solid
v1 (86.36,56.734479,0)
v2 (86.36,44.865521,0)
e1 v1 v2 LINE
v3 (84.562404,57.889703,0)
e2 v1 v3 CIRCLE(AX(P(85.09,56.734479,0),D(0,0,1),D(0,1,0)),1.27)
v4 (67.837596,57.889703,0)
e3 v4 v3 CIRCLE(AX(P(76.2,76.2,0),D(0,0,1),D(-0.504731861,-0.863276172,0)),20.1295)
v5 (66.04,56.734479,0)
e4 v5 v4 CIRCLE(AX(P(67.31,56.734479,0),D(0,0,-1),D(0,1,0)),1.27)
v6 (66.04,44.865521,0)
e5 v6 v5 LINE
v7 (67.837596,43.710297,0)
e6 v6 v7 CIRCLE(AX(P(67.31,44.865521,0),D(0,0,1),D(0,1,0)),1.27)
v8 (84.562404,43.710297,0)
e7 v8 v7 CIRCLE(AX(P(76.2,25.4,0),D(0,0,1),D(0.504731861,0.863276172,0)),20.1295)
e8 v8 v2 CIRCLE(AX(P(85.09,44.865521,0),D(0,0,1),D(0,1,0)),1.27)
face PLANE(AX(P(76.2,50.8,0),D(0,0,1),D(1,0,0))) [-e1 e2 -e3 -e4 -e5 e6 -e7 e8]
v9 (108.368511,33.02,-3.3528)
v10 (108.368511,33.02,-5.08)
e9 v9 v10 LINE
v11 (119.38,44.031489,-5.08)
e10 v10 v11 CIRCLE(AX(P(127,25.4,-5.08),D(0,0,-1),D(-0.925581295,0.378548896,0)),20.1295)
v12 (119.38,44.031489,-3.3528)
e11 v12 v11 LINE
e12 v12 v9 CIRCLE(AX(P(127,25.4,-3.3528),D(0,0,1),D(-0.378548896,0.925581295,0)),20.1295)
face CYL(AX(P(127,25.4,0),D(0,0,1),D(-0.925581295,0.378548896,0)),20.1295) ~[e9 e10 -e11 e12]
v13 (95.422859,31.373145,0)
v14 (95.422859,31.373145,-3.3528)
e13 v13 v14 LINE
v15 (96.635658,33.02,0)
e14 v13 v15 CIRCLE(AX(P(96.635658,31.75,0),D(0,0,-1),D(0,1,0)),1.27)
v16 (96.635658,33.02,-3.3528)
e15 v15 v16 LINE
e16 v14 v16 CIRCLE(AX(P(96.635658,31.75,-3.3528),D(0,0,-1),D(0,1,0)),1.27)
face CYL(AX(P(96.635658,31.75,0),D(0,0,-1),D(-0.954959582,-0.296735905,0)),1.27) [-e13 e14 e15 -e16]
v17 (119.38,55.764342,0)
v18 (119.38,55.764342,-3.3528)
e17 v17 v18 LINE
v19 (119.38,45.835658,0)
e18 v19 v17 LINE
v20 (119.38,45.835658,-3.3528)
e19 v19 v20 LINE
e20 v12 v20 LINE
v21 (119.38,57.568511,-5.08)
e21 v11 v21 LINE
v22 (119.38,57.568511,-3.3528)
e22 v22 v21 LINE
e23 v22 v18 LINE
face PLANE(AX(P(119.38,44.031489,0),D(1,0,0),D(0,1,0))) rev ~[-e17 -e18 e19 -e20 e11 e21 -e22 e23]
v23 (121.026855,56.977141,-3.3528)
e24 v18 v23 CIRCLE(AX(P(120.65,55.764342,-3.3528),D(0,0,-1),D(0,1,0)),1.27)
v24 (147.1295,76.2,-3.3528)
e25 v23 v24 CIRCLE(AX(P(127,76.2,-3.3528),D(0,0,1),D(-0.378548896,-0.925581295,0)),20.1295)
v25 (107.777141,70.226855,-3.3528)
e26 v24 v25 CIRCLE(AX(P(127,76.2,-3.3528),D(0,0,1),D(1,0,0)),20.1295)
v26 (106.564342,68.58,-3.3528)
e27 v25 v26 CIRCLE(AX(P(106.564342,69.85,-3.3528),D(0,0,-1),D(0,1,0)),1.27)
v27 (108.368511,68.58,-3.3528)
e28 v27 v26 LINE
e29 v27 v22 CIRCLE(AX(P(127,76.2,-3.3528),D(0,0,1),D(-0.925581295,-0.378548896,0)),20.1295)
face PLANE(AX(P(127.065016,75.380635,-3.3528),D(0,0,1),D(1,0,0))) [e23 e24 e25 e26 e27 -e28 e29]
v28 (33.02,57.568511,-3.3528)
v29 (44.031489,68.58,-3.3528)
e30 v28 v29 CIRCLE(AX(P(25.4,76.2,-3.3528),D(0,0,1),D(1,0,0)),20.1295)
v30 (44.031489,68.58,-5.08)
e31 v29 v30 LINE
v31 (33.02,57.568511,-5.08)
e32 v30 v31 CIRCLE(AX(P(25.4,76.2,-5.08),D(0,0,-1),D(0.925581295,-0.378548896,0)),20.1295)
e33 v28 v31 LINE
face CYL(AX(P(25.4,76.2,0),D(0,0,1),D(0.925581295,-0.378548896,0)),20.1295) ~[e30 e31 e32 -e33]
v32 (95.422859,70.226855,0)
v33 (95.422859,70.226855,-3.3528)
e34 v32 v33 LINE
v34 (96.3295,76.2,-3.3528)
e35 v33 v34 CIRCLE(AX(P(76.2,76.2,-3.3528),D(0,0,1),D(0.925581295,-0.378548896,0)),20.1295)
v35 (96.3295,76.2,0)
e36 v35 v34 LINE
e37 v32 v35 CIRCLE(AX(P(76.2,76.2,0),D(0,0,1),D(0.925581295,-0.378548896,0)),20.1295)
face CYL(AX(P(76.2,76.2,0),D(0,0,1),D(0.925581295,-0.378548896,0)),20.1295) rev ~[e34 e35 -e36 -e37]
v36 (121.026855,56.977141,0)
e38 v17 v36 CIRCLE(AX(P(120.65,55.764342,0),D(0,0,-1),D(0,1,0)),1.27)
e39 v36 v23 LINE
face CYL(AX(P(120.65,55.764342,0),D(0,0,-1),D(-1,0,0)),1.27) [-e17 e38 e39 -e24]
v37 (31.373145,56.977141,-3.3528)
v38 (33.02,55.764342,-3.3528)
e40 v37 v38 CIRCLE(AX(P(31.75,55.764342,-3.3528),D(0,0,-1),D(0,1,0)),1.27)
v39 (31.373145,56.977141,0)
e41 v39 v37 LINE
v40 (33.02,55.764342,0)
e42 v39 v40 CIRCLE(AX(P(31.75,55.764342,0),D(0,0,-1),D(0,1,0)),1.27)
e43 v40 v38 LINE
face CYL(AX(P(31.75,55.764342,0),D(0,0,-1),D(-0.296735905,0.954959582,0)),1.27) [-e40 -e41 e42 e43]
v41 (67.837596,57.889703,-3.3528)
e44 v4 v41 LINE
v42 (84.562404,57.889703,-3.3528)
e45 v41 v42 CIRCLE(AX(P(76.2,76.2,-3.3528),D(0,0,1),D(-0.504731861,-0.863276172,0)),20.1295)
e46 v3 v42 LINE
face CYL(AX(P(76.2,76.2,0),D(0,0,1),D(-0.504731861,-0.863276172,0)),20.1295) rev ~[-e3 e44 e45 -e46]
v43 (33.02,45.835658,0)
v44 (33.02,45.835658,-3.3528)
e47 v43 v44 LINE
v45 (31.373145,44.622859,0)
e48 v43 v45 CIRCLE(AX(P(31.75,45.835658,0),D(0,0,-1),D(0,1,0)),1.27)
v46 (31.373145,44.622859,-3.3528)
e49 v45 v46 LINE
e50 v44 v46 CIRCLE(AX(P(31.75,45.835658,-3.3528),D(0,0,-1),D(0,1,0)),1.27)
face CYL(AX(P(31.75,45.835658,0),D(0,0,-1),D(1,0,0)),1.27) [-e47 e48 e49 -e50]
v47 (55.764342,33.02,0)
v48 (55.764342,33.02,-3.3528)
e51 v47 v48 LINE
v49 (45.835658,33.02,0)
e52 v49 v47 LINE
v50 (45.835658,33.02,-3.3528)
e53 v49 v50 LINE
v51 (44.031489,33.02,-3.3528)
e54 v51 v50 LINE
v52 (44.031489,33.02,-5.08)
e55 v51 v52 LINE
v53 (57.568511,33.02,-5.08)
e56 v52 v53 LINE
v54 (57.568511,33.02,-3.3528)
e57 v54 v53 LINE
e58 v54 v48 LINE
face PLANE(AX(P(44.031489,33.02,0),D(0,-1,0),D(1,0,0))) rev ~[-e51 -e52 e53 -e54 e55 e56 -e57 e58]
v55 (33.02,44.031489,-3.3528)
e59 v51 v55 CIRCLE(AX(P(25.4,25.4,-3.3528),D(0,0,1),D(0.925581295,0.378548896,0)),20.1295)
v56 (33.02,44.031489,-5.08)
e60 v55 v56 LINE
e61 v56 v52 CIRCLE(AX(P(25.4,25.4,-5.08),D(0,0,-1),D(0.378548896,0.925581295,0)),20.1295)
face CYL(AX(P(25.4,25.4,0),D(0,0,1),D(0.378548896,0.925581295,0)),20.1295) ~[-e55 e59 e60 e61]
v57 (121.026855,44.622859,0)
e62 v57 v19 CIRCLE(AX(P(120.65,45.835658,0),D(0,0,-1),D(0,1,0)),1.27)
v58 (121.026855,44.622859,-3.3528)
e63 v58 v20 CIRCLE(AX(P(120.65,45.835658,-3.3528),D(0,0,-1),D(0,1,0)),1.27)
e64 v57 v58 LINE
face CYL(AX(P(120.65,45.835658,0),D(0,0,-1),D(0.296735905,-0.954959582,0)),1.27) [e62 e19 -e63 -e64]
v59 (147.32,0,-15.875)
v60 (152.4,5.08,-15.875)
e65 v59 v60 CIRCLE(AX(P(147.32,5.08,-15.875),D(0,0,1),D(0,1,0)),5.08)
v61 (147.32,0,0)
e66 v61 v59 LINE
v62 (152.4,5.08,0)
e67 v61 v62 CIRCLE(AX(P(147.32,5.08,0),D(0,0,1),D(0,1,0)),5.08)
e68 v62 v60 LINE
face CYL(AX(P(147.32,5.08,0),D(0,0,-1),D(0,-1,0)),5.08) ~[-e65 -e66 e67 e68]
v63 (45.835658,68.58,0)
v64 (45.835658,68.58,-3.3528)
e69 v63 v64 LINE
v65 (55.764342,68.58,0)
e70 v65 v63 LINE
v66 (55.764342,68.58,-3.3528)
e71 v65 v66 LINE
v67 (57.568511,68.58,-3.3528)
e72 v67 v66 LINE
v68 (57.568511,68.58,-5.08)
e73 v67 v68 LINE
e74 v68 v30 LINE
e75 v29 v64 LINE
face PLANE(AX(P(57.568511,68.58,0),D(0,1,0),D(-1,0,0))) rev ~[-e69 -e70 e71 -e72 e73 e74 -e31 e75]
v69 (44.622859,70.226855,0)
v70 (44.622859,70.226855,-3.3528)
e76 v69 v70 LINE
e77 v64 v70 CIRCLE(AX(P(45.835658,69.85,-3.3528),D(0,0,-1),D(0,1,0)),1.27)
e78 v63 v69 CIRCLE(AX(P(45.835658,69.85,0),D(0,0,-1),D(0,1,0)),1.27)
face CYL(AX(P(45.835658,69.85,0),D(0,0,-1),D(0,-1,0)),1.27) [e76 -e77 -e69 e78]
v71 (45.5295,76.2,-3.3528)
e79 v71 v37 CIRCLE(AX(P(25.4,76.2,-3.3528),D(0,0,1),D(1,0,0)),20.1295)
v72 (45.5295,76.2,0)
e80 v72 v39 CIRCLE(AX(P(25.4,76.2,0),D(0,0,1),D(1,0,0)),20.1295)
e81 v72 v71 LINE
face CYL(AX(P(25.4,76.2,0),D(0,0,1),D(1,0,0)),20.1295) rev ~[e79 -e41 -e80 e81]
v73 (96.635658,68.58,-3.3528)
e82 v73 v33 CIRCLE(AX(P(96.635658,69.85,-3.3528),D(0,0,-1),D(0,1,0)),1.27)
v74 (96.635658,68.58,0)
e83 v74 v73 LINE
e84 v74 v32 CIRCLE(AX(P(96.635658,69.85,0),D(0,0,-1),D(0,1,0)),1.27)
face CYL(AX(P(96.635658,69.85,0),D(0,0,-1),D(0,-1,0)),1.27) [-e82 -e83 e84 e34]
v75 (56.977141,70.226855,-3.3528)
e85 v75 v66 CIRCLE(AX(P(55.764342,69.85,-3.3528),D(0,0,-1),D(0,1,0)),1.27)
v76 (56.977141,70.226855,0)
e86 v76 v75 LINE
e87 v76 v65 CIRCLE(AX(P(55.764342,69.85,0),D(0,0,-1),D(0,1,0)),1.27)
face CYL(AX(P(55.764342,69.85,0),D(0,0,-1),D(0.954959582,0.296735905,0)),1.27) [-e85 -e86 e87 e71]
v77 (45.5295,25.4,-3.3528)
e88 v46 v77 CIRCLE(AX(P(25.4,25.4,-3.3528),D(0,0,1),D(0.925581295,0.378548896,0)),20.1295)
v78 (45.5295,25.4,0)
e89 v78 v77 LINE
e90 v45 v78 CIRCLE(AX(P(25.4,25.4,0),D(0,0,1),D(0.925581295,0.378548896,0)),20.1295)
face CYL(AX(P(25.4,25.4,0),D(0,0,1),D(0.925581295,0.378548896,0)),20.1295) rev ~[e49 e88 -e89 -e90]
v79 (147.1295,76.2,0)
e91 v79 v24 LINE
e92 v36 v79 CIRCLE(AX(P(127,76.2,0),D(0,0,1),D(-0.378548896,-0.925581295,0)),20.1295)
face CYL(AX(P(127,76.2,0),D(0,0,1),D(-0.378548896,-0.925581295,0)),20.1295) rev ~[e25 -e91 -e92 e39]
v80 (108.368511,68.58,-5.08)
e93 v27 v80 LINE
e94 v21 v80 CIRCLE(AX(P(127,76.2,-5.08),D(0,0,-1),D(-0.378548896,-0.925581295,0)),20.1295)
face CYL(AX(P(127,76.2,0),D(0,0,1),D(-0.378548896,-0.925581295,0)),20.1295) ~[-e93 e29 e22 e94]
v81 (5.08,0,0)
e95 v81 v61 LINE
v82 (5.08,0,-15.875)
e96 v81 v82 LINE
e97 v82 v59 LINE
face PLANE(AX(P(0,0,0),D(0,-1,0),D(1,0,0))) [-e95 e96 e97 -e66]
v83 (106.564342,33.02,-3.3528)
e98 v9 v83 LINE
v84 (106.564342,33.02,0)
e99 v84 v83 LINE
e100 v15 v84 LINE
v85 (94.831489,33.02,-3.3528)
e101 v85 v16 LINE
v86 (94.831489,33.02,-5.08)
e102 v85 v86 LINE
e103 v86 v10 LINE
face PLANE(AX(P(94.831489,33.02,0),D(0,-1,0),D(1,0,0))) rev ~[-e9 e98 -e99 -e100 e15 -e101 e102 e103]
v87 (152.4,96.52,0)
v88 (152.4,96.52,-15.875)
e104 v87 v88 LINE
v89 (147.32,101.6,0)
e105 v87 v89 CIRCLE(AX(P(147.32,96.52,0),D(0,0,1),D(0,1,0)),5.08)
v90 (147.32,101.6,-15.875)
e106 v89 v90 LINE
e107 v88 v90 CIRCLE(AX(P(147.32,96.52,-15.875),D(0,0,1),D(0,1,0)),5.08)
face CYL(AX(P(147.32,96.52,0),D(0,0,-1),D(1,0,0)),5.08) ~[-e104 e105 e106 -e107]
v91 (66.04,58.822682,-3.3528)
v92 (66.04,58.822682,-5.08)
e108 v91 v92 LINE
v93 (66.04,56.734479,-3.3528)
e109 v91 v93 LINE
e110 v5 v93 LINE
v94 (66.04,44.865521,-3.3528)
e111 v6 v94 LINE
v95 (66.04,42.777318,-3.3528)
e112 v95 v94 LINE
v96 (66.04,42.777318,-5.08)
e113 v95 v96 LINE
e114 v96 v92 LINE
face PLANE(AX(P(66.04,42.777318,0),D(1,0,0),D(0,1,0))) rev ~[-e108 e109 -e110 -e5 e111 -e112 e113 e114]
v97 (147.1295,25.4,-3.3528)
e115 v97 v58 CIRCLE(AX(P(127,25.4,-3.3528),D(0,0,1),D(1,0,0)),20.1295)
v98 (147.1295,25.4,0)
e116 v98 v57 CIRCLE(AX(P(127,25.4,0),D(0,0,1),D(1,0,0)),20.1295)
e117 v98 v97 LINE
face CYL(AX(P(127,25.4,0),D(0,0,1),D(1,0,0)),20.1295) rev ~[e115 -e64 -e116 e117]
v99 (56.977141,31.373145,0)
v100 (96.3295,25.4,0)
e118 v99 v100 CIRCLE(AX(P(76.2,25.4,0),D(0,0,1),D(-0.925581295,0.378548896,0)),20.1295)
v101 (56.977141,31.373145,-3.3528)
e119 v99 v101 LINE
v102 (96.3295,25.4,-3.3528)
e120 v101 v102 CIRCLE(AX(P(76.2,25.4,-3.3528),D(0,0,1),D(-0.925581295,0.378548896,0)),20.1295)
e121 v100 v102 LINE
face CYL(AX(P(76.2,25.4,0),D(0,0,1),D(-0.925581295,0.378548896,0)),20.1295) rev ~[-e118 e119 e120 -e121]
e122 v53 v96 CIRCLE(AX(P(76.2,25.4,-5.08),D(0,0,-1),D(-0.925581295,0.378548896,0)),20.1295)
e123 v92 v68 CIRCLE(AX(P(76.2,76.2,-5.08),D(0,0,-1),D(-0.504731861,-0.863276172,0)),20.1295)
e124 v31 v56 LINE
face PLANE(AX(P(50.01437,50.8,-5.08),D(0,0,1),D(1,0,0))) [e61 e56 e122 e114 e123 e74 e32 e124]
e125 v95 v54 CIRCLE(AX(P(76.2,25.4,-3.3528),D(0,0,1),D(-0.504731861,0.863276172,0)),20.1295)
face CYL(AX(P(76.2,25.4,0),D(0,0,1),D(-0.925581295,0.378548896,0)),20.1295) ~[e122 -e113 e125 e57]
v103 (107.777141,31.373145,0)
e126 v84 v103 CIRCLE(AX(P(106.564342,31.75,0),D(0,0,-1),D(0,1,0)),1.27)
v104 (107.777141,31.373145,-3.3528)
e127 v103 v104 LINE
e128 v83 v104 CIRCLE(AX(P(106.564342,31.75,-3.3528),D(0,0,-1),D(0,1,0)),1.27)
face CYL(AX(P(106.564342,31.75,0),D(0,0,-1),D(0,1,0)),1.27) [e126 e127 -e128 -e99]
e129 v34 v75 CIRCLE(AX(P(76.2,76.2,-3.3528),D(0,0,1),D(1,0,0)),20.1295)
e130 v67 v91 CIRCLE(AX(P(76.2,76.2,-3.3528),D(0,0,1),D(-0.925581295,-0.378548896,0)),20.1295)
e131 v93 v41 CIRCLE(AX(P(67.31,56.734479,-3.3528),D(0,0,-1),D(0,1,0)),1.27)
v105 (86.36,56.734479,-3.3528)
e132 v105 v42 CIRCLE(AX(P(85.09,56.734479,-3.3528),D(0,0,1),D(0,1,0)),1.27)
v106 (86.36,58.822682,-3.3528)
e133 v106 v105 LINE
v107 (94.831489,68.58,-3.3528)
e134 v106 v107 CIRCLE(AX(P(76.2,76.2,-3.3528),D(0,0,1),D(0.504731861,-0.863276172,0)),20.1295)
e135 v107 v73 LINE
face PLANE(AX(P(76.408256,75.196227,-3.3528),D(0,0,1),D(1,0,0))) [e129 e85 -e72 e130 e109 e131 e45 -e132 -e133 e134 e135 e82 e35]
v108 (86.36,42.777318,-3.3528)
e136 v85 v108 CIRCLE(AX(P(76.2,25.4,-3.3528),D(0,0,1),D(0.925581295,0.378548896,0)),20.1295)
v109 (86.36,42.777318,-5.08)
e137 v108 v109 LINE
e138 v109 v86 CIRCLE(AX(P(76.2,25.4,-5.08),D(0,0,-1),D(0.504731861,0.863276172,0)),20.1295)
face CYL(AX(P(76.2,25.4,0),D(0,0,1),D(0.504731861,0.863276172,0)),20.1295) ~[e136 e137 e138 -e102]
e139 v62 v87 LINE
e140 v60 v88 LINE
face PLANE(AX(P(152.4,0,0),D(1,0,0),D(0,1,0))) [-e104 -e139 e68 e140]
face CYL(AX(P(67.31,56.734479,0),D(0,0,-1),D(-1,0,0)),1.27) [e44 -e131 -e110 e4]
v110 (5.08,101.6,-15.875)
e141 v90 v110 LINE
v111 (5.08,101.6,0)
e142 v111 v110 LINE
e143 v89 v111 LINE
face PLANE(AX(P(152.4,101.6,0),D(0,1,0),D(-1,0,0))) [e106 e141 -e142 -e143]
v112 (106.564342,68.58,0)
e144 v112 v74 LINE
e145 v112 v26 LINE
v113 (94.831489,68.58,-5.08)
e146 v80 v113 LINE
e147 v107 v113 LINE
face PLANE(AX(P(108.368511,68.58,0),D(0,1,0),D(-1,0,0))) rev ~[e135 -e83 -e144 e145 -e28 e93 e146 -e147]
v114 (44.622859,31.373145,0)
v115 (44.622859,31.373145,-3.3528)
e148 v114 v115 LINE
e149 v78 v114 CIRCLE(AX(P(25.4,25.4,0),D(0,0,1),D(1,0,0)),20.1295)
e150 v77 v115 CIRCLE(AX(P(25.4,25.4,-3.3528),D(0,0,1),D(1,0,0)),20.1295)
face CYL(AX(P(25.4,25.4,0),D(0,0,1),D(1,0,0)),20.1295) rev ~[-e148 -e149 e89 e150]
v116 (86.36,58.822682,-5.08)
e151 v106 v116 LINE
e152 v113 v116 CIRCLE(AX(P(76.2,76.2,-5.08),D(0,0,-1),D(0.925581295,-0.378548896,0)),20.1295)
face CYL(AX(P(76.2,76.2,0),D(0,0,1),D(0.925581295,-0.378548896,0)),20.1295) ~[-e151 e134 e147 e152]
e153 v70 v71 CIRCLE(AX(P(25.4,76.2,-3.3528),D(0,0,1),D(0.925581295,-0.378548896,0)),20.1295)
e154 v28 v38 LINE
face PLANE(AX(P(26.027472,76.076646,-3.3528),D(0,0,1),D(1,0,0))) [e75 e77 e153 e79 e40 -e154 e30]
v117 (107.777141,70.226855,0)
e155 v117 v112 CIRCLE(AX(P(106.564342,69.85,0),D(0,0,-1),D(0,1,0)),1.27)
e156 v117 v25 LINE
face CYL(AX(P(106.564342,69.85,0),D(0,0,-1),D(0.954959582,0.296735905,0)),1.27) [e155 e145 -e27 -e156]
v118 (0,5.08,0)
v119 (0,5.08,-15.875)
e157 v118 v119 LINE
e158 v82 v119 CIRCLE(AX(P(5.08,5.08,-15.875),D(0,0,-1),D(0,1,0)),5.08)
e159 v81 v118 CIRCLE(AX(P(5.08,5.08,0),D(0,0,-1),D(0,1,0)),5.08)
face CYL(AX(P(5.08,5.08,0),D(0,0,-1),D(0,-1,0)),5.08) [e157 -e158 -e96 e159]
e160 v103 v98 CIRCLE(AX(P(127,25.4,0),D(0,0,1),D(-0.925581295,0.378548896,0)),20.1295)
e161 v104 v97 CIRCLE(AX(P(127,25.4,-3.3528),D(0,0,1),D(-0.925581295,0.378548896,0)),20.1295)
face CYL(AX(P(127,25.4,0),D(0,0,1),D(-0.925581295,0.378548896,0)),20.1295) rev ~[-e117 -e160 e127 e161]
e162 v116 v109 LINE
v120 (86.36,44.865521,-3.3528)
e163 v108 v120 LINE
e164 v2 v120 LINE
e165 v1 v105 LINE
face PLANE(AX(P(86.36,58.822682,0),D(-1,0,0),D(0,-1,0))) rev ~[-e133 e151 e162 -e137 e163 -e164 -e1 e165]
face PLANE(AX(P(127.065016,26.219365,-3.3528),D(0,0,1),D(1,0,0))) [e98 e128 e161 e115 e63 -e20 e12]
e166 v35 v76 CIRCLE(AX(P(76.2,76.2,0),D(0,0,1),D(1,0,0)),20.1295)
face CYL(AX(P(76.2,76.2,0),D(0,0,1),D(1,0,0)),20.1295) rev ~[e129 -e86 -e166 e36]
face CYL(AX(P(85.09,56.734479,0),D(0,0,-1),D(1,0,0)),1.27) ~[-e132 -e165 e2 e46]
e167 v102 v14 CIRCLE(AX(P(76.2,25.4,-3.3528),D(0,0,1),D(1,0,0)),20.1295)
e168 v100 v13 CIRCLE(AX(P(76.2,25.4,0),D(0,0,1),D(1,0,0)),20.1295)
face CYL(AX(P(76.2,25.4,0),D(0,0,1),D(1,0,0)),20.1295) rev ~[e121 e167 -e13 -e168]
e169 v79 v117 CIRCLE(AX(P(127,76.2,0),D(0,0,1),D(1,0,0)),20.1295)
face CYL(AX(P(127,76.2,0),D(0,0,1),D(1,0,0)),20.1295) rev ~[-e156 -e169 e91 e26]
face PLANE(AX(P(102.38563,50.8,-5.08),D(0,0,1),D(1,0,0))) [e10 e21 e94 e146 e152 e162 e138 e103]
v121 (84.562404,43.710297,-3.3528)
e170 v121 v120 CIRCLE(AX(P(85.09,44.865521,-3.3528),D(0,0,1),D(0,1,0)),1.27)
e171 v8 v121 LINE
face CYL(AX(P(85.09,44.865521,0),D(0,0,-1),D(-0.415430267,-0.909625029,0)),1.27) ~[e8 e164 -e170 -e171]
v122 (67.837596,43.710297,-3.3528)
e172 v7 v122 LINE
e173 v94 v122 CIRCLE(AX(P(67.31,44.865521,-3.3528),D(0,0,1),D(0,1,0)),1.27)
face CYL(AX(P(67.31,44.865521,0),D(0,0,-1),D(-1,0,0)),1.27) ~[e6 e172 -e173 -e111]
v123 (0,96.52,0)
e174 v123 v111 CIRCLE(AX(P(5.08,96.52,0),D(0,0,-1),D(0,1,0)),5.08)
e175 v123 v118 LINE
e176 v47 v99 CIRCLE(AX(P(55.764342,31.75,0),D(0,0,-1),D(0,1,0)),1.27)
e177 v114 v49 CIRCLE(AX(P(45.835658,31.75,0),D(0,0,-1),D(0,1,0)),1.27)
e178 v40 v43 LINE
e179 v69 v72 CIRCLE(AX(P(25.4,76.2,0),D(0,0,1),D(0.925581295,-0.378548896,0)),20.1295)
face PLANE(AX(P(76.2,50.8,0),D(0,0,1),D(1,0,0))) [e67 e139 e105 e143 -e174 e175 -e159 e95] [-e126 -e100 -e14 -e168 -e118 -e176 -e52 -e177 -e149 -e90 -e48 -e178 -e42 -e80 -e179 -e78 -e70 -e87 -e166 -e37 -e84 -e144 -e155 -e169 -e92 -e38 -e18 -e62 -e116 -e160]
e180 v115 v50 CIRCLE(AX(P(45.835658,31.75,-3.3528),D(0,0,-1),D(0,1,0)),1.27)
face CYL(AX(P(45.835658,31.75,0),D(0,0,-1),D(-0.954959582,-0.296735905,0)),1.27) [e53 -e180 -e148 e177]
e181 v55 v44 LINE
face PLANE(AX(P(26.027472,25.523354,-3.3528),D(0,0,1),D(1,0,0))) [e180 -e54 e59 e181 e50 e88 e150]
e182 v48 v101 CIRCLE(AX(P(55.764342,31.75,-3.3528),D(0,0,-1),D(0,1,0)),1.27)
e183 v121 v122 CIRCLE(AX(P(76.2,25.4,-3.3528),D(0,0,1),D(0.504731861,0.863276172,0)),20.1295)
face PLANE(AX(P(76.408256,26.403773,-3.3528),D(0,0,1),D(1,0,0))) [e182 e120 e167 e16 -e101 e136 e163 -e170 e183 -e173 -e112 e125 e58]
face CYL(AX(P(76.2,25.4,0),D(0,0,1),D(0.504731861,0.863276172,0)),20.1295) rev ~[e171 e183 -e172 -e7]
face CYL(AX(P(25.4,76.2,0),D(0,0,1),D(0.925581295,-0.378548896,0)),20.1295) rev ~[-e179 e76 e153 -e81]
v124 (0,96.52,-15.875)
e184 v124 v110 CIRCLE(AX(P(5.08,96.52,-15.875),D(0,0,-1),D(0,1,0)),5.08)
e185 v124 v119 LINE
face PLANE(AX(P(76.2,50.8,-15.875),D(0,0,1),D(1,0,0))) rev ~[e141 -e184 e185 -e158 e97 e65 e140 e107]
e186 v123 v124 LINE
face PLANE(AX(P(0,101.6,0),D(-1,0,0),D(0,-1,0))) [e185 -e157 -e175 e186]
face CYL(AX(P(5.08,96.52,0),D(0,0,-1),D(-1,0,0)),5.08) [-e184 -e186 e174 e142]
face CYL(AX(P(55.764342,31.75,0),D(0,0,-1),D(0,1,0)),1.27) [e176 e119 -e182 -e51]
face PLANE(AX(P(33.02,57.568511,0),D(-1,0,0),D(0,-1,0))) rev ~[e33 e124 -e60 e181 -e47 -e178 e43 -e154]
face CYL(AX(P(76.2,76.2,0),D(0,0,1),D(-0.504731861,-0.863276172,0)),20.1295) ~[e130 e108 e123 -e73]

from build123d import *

# Parameters (mm, degrees)
F1_DEPTH = 15.875
F2_DEPTH = 3.3528
F3_DEPTH = 5.08
F4_R     = 5.08
F5_R     = 1.27


with BuildPart() as f1:
    # F0 (on Top) → F1 (new body)
    with BuildSketch(Plane.XY):
        Polygon((0, 25.4), (0, 0), (33.02, 0), (66.04, 0), (76.2, 0), (86.36, 0), (119.38, 0), (152.4, 0), (152.4, 33.02), (152.4, 68.58), (152.4, 101.6), (127, 101.6), (76.2, 101.6), (25.4, 101.6), (0, 101.6), (0, 76.2), align=None)
        with BuildLine():
            ThreePointArc((44.0314886751, 33.02), (45.151447055, 29.2829253769), (45.5295, 25.4))
            ThreePointArc((45.5295, 25.4), (8.6879749843, 14.179260714), (33.02, 44.0314886751))
            Line((33.02, 44.0314886751), (33.02, 57.5685113249))
            ThreePointArc((33.02, 57.5685113249), (8.6879749843, 87.420739286), (45.5295, 76.2))
            ThreePointArc((45.5295, 76.2), (45.151447055, 72.3170746231), (44.0314886751, 68.58))
            Line((44.0314886751, 68.58), (57.5685113249, 68.58))
            ThreePointArc((57.5685113249, 68.58), (72.3170746231, 95.951447055), (96.3295, 76.2))
            ThreePointArc((96.3295, 76.2), (95.951447055, 72.3170746231), (94.8314886751, 68.58))
            Line((94.8314886751, 68.58), (108.3685113249, 68.58))
            ThreePointArc((108.3685113249, 68.58), (123.1170746231, 95.951447055), (147.1295, 76.2))
            ThreePointArc((147.1295, 76.2), (138.220739286, 59.4879749843), (119.38, 57.5685113249))
            Line((119.38, 57.5685113249), (119.38, 44.0314886751))
            ThreePointArc((119.38, 44.0314886751), (138.220739286, 42.1120250157), (147.1295, 25.4))
            ThreePointArc((147.1295, 25.4), (123.1170746231, 5.648552945), (108.3685113249, 33.02))
            Line((108.3685113249, 33.02), (94.8314886751, 33.02))
            ThreePointArc((94.8314886751, 33.02), (95.951447055, 29.2829253769), (96.3295, 25.4))
            ThreePointArc((96.3295, 25.4), (72.3170746231, 5.648552945), (57.5685113249, 33.02))
            Line((57.5685113249, 33.02), (44.0314886751, 33.02))
        make_face(mode=Mode.SUBTRACT)
        with BuildLine():
            ThreePointArc((45.5295, 76.2), (8.6879749843, 87.420739286), (33.02, 57.5685113249))
            ThreePointArc((33.02, 57.5685113249), (39.6337059519, 61.9662940481), (44.0314886751, 68.58))
            ThreePointArc((44.0314886751, 68.58), (45.151447055, 72.3170746231), (45.5295, 76.2))
        make_face()
        with BuildLine():
            ThreePointArc((33.02, 44.0314886751), (8.6879749843, 14.179260714), (45.5295, 25.4))
            ThreePointArc((45.5295, 25.4), (45.151447055, 29.2829253769), (44.0314886751, 33.02))
            ThreePointArc((44.0314886751, 33.02), (39.6337059519, 39.6337059519), (33.02, 44.0314886751))
        make_face()
        with BuildLine():
            ThreePointArc((66.04, 42.7773176943), (61.0000405534, 38.5968936902), (57.5685113249, 33.02))
            ThreePointArc((57.5685113249, 33.02), (72.3170746231, 5.648552945), (96.3295, 25.4))
            ThreePointArc((96.3295, 25.4), (95.951447055, 29.2829253769), (94.8314886751, 33.02))
            ThreePointArc((94.8314886751, 33.02), (91.3999594466, 38.5968936902), (86.36, 42.7773176943))
            ThreePointArc((86.36, 42.7773176943), (76.2, 45.5295), (66.04, 42.7773176943))
        make_face()
        with BuildLine():
            ThreePointArc((147.1295, 76.2), (123.1170746231, 95.951447055), (108.3685113249, 68.58))
            ThreePointArc((108.3685113249, 68.58), (112.7662940481, 61.9662940481), (119.38, 57.5685113249))
            ThreePointArc((119.38, 57.5685113249), (138.220739286, 59.4879749843), (147.1295, 76.2))
        make_face()
        with BuildLine():
            ThreePointArc((57.5685113249, 68.58), (61.0000405534, 63.0031063098), (66.04, 58.8226823057))
            ThreePointArc((66.04, 58.8226823057), (76.2, 56.0705), (86.36, 58.8226823057))
            ThreePointArc((86.36, 58.8226823057), (91.3999594466, 63.0031063098), (94.8314886751, 68.58))
            ThreePointArc((94.8314886751, 68.58), (95.951447055, 72.3170746231), (96.3295, 76.2))
            ThreePointArc((96.3295, 76.2), (72.3170746231, 95.951447055), (57.5685113249, 68.58))
        make_face()
        with BuildLine():
            ThreePointArc((119.38, 44.0314886751), (112.7662940481, 39.6337059519), (108.3685113249, 33.02))
            ThreePointArc((108.3685113249, 33.02), (123.1170746231, 5.648552945), (147.1295, 25.4))
            ThreePointArc((147.1295, 25.4), (138.220739286, 42.1120250157), (119.38, 44.0314886751))
        make_face()
        with BuildLine():
            ThreePointArc((33.02, 44.0314886751), (39.6337059519, 39.6337059519), (44.0314886751, 33.02))
            Line((44.0314886751, 33.02), (57.5685113249, 33.02))
            ThreePointArc((57.5685113249, 33.02), (61.0000405534, 38.5968936902), (66.04, 42.7773176943))
            Line((66.04, 42.7773176943), (66.04, 58.8226823057))
            ThreePointArc((66.04, 58.8226823057), (61.0000405534, 63.0031063098), (57.5685113249, 68.58))
            Line((57.5685113249, 68.58), (44.0314886751, 68.58))
            ThreePointArc((44.0314886751, 68.58), (39.6337059519, 61.9662940481), (33.02, 57.5685113249))
            Line((33.02, 57.5685113249), (33.02, 44.0314886751))
        make_face()
        with BuildLine():
            Line((86.36, 58.8226823057), (86.36, 42.7773176943))
            ThreePointArc((86.36, 42.7773176943), (91.3999594466, 38.5968936902), (94.8314886751, 33.02))
            Line((94.8314886751, 33.02), (108.3685113249, 33.02))
            ThreePointArc((108.3685113249, 33.02), (112.7662940481, 39.6337059519), (119.38, 44.0314886751))
            Line((119.38, 44.0314886751), (119.38, 57.5685113249))
            ThreePointArc((119.38, 57.5685113249), (112.7662940481, 61.9662940481), (108.3685113249, 68.58))
            Line((108.3685113249, 68.58), (94.8314886751, 68.58))
            ThreePointArc((94.8314886751, 68.58), (91.3999594466, 63.0031063098), (86.36, 58.8226823057))
        make_face()
        with BuildLine():
            Line((66.04, 58.8226823057), (66.04, 42.7773176943))
            ThreePointArc((66.04, 42.7773176943), (76.2, 45.5295), (86.36, 42.7773176943))
            Line((86.36, 42.7773176943), (86.36, 58.8226823057))
            ThreePointArc((86.36, 58.8226823057), (76.2, 56.0705), (66.04, 58.8226823057))
        make_face()
    extrude(amount=-F1_DEPTH)

    # F0 (on Top) → F2 (cut)
    with BuildSketch(Plane.XY):
        with BuildLine():
            ThreePointArc((45.5295, 76.2), (8.6879749843, 87.420739286), (33.02, 57.5685113249))
            ThreePointArc((33.02, 57.5685113249), (39.6337059519, 61.9662940481), (44.0314886751, 68.58))
            ThreePointArc((44.0314886751, 68.58), (45.151447055, 72.3170746231), (45.5295, 76.2))
        make_face()
        with BuildLine():
            ThreePointArc((33.02, 44.0314886751), (8.6879749843, 14.179260714), (45.5295, 25.4))
            ThreePointArc((45.5295, 25.4), (45.151447055, 29.2829253769), (44.0314886751, 33.02))
            ThreePointArc((44.0314886751, 33.02), (39.6337059519, 39.6337059519), (33.02, 44.0314886751))
        make_face()
        with BuildLine():
            ThreePointArc((66.04, 42.7773176943), (61.0000405534, 38.5968936902), (57.5685113249, 33.02))
            ThreePointArc((57.5685113249, 33.02), (72.3170746231, 5.648552945), (96.3295, 25.4))
            ThreePointArc((96.3295, 25.4), (95.951447055, 29.2829253769), (94.8314886751, 33.02))
            ThreePointArc((94.8314886751, 33.02), (91.3999594466, 38.5968936902), (86.36, 42.7773176943))
            ThreePointArc((86.36, 42.7773176943), (76.2, 45.5295), (66.04, 42.7773176943))
        make_face()
        with BuildLine():
            ThreePointArc((57.5685113249, 68.58), (61.0000405534, 63.0031063098), (66.04, 58.8226823057))
            ThreePointArc((66.04, 58.8226823057), (76.2, 56.0705), (86.36, 58.8226823057))
            ThreePointArc((86.36, 58.8226823057), (91.3999594466, 63.0031063098), (94.8314886751, 68.58))
            ThreePointArc((94.8314886751, 68.58), (95.951447055, 72.3170746231), (96.3295, 76.2))
            ThreePointArc((96.3295, 76.2), (72.3170746231, 95.951447055), (57.5685113249, 68.58))
        make_face()
        with BuildLine():
            ThreePointArc((147.1295, 76.2), (123.1170746231, 95.951447055), (108.3685113249, 68.58))
            ThreePointArc((108.3685113249, 68.58), (112.7662940481, 61.9662940481), (119.38, 57.5685113249))
            ThreePointArc((119.38, 57.5685113249), (138.220739286, 59.4879749843), (147.1295, 76.2))
        make_face()
        with BuildLine():
            ThreePointArc((119.38, 44.0314886751), (112.7662940481, 39.6337059519), (108.3685113249, 33.02))
            ThreePointArc((108.3685113249, 33.02), (123.1170746231, 5.648552945), (147.1295, 25.4))
            ThreePointArc((147.1295, 25.4), (138.220739286, 42.1120250157), (119.38, 44.0314886751))
        make_face()
    extrude(amount=-F2_DEPTH, mode=Mode.SUBTRACT)

    # F0 (on Top) → F3 (cut)
    with BuildSketch(Plane.XY):
        with BuildLine():
            ThreePointArc((33.02, 44.0314886751), (39.6337059519, 39.6337059519), (44.0314886751, 33.02))
            Line((44.0314886751, 33.02), (57.5685113249, 33.02))
            ThreePointArc((57.5685113249, 33.02), (61.0000405534, 38.5968936902), (66.04, 42.7773176943))
            Line((66.04, 42.7773176943), (66.04, 58.8226823057))
            ThreePointArc((66.04, 58.8226823057), (61.0000405534, 63.0031063098), (57.5685113249, 68.58))
            Line((57.5685113249, 68.58), (44.0314886751, 68.58))
            ThreePointArc((44.0314886751, 68.58), (39.6337059519, 61.9662940481), (33.02, 57.5685113249))
            Line((33.02, 57.5685113249), (33.02, 44.0314886751))
        make_face()
        with BuildLine():
            Line((86.36, 58.8226823057), (86.36, 42.7773176943))
            ThreePointArc((86.36, 42.7773176943), (91.3999594466, 38.5968936902), (94.8314886751, 33.02))
            Line((94.8314886751, 33.02), (108.3685113249, 33.02))
            ThreePointArc((108.3685113249, 33.02), (112.7662940481, 39.6337059519), (119.38, 44.0314886751))
            Line((119.38, 44.0314886751), (119.38, 57.5685113249))
            ThreePointArc((119.38, 57.5685113249), (112.7662940481, 61.9662940481), (108.3685113249, 68.58))
            Line((108.3685113249, 68.58), (94.8314886751, 68.58))
            ThreePointArc((94.8314886751, 68.58), (91.3999594466, 63.0031063098), (86.36, 58.8226823057))
        make_face()
    extrude(amount=-F3_DEPTH, mode=Mode.SUBTRACT)

    # F4
    f4_edges = [f1.edges().sort_by_distance(p)[0] for p in [
        (0, 0, -7.9375),
        (152.4, 0, -7.9375),
        (152.4, 101.6, -7.9375),
        (0, 101.6, -7.9375),
    ]]
    fillet(f4_edges, radius=F4_R)

    # F5
    f5_edges = [f1.edges().sort_by_distance(p)[0] for p in [
        (86.36, 58.822682, -1.6764),
        (94.831489, 68.58, -1.6764),
        (108.368511, 68.58, -1.6764),
        (119.38, 57.568511, -1.6764),
        (119.38, 44.031489, -1.6764),
        (108.368511, 33.02, -1.6764),
        (94.831489, 33.02, -1.6764),
        (86.36, 42.777318, -1.6764),
        (66.04, 42.777318, -1.6764),
        (57.568511, 33.02, -1.6764),
        (44.031489, 33.02, -1.6764),
        (33.02, 44.031489, -1.6764),
        (33.02, 57.568511, -1.6764),
        (44.031489, 68.58, -1.6764),
        (57.568511, 68.58, -1.6764),
        (66.04, 58.822682, -1.6764),
    ]]
    fillet(f5_edges, radius=F5_R)


solid = f1.part
